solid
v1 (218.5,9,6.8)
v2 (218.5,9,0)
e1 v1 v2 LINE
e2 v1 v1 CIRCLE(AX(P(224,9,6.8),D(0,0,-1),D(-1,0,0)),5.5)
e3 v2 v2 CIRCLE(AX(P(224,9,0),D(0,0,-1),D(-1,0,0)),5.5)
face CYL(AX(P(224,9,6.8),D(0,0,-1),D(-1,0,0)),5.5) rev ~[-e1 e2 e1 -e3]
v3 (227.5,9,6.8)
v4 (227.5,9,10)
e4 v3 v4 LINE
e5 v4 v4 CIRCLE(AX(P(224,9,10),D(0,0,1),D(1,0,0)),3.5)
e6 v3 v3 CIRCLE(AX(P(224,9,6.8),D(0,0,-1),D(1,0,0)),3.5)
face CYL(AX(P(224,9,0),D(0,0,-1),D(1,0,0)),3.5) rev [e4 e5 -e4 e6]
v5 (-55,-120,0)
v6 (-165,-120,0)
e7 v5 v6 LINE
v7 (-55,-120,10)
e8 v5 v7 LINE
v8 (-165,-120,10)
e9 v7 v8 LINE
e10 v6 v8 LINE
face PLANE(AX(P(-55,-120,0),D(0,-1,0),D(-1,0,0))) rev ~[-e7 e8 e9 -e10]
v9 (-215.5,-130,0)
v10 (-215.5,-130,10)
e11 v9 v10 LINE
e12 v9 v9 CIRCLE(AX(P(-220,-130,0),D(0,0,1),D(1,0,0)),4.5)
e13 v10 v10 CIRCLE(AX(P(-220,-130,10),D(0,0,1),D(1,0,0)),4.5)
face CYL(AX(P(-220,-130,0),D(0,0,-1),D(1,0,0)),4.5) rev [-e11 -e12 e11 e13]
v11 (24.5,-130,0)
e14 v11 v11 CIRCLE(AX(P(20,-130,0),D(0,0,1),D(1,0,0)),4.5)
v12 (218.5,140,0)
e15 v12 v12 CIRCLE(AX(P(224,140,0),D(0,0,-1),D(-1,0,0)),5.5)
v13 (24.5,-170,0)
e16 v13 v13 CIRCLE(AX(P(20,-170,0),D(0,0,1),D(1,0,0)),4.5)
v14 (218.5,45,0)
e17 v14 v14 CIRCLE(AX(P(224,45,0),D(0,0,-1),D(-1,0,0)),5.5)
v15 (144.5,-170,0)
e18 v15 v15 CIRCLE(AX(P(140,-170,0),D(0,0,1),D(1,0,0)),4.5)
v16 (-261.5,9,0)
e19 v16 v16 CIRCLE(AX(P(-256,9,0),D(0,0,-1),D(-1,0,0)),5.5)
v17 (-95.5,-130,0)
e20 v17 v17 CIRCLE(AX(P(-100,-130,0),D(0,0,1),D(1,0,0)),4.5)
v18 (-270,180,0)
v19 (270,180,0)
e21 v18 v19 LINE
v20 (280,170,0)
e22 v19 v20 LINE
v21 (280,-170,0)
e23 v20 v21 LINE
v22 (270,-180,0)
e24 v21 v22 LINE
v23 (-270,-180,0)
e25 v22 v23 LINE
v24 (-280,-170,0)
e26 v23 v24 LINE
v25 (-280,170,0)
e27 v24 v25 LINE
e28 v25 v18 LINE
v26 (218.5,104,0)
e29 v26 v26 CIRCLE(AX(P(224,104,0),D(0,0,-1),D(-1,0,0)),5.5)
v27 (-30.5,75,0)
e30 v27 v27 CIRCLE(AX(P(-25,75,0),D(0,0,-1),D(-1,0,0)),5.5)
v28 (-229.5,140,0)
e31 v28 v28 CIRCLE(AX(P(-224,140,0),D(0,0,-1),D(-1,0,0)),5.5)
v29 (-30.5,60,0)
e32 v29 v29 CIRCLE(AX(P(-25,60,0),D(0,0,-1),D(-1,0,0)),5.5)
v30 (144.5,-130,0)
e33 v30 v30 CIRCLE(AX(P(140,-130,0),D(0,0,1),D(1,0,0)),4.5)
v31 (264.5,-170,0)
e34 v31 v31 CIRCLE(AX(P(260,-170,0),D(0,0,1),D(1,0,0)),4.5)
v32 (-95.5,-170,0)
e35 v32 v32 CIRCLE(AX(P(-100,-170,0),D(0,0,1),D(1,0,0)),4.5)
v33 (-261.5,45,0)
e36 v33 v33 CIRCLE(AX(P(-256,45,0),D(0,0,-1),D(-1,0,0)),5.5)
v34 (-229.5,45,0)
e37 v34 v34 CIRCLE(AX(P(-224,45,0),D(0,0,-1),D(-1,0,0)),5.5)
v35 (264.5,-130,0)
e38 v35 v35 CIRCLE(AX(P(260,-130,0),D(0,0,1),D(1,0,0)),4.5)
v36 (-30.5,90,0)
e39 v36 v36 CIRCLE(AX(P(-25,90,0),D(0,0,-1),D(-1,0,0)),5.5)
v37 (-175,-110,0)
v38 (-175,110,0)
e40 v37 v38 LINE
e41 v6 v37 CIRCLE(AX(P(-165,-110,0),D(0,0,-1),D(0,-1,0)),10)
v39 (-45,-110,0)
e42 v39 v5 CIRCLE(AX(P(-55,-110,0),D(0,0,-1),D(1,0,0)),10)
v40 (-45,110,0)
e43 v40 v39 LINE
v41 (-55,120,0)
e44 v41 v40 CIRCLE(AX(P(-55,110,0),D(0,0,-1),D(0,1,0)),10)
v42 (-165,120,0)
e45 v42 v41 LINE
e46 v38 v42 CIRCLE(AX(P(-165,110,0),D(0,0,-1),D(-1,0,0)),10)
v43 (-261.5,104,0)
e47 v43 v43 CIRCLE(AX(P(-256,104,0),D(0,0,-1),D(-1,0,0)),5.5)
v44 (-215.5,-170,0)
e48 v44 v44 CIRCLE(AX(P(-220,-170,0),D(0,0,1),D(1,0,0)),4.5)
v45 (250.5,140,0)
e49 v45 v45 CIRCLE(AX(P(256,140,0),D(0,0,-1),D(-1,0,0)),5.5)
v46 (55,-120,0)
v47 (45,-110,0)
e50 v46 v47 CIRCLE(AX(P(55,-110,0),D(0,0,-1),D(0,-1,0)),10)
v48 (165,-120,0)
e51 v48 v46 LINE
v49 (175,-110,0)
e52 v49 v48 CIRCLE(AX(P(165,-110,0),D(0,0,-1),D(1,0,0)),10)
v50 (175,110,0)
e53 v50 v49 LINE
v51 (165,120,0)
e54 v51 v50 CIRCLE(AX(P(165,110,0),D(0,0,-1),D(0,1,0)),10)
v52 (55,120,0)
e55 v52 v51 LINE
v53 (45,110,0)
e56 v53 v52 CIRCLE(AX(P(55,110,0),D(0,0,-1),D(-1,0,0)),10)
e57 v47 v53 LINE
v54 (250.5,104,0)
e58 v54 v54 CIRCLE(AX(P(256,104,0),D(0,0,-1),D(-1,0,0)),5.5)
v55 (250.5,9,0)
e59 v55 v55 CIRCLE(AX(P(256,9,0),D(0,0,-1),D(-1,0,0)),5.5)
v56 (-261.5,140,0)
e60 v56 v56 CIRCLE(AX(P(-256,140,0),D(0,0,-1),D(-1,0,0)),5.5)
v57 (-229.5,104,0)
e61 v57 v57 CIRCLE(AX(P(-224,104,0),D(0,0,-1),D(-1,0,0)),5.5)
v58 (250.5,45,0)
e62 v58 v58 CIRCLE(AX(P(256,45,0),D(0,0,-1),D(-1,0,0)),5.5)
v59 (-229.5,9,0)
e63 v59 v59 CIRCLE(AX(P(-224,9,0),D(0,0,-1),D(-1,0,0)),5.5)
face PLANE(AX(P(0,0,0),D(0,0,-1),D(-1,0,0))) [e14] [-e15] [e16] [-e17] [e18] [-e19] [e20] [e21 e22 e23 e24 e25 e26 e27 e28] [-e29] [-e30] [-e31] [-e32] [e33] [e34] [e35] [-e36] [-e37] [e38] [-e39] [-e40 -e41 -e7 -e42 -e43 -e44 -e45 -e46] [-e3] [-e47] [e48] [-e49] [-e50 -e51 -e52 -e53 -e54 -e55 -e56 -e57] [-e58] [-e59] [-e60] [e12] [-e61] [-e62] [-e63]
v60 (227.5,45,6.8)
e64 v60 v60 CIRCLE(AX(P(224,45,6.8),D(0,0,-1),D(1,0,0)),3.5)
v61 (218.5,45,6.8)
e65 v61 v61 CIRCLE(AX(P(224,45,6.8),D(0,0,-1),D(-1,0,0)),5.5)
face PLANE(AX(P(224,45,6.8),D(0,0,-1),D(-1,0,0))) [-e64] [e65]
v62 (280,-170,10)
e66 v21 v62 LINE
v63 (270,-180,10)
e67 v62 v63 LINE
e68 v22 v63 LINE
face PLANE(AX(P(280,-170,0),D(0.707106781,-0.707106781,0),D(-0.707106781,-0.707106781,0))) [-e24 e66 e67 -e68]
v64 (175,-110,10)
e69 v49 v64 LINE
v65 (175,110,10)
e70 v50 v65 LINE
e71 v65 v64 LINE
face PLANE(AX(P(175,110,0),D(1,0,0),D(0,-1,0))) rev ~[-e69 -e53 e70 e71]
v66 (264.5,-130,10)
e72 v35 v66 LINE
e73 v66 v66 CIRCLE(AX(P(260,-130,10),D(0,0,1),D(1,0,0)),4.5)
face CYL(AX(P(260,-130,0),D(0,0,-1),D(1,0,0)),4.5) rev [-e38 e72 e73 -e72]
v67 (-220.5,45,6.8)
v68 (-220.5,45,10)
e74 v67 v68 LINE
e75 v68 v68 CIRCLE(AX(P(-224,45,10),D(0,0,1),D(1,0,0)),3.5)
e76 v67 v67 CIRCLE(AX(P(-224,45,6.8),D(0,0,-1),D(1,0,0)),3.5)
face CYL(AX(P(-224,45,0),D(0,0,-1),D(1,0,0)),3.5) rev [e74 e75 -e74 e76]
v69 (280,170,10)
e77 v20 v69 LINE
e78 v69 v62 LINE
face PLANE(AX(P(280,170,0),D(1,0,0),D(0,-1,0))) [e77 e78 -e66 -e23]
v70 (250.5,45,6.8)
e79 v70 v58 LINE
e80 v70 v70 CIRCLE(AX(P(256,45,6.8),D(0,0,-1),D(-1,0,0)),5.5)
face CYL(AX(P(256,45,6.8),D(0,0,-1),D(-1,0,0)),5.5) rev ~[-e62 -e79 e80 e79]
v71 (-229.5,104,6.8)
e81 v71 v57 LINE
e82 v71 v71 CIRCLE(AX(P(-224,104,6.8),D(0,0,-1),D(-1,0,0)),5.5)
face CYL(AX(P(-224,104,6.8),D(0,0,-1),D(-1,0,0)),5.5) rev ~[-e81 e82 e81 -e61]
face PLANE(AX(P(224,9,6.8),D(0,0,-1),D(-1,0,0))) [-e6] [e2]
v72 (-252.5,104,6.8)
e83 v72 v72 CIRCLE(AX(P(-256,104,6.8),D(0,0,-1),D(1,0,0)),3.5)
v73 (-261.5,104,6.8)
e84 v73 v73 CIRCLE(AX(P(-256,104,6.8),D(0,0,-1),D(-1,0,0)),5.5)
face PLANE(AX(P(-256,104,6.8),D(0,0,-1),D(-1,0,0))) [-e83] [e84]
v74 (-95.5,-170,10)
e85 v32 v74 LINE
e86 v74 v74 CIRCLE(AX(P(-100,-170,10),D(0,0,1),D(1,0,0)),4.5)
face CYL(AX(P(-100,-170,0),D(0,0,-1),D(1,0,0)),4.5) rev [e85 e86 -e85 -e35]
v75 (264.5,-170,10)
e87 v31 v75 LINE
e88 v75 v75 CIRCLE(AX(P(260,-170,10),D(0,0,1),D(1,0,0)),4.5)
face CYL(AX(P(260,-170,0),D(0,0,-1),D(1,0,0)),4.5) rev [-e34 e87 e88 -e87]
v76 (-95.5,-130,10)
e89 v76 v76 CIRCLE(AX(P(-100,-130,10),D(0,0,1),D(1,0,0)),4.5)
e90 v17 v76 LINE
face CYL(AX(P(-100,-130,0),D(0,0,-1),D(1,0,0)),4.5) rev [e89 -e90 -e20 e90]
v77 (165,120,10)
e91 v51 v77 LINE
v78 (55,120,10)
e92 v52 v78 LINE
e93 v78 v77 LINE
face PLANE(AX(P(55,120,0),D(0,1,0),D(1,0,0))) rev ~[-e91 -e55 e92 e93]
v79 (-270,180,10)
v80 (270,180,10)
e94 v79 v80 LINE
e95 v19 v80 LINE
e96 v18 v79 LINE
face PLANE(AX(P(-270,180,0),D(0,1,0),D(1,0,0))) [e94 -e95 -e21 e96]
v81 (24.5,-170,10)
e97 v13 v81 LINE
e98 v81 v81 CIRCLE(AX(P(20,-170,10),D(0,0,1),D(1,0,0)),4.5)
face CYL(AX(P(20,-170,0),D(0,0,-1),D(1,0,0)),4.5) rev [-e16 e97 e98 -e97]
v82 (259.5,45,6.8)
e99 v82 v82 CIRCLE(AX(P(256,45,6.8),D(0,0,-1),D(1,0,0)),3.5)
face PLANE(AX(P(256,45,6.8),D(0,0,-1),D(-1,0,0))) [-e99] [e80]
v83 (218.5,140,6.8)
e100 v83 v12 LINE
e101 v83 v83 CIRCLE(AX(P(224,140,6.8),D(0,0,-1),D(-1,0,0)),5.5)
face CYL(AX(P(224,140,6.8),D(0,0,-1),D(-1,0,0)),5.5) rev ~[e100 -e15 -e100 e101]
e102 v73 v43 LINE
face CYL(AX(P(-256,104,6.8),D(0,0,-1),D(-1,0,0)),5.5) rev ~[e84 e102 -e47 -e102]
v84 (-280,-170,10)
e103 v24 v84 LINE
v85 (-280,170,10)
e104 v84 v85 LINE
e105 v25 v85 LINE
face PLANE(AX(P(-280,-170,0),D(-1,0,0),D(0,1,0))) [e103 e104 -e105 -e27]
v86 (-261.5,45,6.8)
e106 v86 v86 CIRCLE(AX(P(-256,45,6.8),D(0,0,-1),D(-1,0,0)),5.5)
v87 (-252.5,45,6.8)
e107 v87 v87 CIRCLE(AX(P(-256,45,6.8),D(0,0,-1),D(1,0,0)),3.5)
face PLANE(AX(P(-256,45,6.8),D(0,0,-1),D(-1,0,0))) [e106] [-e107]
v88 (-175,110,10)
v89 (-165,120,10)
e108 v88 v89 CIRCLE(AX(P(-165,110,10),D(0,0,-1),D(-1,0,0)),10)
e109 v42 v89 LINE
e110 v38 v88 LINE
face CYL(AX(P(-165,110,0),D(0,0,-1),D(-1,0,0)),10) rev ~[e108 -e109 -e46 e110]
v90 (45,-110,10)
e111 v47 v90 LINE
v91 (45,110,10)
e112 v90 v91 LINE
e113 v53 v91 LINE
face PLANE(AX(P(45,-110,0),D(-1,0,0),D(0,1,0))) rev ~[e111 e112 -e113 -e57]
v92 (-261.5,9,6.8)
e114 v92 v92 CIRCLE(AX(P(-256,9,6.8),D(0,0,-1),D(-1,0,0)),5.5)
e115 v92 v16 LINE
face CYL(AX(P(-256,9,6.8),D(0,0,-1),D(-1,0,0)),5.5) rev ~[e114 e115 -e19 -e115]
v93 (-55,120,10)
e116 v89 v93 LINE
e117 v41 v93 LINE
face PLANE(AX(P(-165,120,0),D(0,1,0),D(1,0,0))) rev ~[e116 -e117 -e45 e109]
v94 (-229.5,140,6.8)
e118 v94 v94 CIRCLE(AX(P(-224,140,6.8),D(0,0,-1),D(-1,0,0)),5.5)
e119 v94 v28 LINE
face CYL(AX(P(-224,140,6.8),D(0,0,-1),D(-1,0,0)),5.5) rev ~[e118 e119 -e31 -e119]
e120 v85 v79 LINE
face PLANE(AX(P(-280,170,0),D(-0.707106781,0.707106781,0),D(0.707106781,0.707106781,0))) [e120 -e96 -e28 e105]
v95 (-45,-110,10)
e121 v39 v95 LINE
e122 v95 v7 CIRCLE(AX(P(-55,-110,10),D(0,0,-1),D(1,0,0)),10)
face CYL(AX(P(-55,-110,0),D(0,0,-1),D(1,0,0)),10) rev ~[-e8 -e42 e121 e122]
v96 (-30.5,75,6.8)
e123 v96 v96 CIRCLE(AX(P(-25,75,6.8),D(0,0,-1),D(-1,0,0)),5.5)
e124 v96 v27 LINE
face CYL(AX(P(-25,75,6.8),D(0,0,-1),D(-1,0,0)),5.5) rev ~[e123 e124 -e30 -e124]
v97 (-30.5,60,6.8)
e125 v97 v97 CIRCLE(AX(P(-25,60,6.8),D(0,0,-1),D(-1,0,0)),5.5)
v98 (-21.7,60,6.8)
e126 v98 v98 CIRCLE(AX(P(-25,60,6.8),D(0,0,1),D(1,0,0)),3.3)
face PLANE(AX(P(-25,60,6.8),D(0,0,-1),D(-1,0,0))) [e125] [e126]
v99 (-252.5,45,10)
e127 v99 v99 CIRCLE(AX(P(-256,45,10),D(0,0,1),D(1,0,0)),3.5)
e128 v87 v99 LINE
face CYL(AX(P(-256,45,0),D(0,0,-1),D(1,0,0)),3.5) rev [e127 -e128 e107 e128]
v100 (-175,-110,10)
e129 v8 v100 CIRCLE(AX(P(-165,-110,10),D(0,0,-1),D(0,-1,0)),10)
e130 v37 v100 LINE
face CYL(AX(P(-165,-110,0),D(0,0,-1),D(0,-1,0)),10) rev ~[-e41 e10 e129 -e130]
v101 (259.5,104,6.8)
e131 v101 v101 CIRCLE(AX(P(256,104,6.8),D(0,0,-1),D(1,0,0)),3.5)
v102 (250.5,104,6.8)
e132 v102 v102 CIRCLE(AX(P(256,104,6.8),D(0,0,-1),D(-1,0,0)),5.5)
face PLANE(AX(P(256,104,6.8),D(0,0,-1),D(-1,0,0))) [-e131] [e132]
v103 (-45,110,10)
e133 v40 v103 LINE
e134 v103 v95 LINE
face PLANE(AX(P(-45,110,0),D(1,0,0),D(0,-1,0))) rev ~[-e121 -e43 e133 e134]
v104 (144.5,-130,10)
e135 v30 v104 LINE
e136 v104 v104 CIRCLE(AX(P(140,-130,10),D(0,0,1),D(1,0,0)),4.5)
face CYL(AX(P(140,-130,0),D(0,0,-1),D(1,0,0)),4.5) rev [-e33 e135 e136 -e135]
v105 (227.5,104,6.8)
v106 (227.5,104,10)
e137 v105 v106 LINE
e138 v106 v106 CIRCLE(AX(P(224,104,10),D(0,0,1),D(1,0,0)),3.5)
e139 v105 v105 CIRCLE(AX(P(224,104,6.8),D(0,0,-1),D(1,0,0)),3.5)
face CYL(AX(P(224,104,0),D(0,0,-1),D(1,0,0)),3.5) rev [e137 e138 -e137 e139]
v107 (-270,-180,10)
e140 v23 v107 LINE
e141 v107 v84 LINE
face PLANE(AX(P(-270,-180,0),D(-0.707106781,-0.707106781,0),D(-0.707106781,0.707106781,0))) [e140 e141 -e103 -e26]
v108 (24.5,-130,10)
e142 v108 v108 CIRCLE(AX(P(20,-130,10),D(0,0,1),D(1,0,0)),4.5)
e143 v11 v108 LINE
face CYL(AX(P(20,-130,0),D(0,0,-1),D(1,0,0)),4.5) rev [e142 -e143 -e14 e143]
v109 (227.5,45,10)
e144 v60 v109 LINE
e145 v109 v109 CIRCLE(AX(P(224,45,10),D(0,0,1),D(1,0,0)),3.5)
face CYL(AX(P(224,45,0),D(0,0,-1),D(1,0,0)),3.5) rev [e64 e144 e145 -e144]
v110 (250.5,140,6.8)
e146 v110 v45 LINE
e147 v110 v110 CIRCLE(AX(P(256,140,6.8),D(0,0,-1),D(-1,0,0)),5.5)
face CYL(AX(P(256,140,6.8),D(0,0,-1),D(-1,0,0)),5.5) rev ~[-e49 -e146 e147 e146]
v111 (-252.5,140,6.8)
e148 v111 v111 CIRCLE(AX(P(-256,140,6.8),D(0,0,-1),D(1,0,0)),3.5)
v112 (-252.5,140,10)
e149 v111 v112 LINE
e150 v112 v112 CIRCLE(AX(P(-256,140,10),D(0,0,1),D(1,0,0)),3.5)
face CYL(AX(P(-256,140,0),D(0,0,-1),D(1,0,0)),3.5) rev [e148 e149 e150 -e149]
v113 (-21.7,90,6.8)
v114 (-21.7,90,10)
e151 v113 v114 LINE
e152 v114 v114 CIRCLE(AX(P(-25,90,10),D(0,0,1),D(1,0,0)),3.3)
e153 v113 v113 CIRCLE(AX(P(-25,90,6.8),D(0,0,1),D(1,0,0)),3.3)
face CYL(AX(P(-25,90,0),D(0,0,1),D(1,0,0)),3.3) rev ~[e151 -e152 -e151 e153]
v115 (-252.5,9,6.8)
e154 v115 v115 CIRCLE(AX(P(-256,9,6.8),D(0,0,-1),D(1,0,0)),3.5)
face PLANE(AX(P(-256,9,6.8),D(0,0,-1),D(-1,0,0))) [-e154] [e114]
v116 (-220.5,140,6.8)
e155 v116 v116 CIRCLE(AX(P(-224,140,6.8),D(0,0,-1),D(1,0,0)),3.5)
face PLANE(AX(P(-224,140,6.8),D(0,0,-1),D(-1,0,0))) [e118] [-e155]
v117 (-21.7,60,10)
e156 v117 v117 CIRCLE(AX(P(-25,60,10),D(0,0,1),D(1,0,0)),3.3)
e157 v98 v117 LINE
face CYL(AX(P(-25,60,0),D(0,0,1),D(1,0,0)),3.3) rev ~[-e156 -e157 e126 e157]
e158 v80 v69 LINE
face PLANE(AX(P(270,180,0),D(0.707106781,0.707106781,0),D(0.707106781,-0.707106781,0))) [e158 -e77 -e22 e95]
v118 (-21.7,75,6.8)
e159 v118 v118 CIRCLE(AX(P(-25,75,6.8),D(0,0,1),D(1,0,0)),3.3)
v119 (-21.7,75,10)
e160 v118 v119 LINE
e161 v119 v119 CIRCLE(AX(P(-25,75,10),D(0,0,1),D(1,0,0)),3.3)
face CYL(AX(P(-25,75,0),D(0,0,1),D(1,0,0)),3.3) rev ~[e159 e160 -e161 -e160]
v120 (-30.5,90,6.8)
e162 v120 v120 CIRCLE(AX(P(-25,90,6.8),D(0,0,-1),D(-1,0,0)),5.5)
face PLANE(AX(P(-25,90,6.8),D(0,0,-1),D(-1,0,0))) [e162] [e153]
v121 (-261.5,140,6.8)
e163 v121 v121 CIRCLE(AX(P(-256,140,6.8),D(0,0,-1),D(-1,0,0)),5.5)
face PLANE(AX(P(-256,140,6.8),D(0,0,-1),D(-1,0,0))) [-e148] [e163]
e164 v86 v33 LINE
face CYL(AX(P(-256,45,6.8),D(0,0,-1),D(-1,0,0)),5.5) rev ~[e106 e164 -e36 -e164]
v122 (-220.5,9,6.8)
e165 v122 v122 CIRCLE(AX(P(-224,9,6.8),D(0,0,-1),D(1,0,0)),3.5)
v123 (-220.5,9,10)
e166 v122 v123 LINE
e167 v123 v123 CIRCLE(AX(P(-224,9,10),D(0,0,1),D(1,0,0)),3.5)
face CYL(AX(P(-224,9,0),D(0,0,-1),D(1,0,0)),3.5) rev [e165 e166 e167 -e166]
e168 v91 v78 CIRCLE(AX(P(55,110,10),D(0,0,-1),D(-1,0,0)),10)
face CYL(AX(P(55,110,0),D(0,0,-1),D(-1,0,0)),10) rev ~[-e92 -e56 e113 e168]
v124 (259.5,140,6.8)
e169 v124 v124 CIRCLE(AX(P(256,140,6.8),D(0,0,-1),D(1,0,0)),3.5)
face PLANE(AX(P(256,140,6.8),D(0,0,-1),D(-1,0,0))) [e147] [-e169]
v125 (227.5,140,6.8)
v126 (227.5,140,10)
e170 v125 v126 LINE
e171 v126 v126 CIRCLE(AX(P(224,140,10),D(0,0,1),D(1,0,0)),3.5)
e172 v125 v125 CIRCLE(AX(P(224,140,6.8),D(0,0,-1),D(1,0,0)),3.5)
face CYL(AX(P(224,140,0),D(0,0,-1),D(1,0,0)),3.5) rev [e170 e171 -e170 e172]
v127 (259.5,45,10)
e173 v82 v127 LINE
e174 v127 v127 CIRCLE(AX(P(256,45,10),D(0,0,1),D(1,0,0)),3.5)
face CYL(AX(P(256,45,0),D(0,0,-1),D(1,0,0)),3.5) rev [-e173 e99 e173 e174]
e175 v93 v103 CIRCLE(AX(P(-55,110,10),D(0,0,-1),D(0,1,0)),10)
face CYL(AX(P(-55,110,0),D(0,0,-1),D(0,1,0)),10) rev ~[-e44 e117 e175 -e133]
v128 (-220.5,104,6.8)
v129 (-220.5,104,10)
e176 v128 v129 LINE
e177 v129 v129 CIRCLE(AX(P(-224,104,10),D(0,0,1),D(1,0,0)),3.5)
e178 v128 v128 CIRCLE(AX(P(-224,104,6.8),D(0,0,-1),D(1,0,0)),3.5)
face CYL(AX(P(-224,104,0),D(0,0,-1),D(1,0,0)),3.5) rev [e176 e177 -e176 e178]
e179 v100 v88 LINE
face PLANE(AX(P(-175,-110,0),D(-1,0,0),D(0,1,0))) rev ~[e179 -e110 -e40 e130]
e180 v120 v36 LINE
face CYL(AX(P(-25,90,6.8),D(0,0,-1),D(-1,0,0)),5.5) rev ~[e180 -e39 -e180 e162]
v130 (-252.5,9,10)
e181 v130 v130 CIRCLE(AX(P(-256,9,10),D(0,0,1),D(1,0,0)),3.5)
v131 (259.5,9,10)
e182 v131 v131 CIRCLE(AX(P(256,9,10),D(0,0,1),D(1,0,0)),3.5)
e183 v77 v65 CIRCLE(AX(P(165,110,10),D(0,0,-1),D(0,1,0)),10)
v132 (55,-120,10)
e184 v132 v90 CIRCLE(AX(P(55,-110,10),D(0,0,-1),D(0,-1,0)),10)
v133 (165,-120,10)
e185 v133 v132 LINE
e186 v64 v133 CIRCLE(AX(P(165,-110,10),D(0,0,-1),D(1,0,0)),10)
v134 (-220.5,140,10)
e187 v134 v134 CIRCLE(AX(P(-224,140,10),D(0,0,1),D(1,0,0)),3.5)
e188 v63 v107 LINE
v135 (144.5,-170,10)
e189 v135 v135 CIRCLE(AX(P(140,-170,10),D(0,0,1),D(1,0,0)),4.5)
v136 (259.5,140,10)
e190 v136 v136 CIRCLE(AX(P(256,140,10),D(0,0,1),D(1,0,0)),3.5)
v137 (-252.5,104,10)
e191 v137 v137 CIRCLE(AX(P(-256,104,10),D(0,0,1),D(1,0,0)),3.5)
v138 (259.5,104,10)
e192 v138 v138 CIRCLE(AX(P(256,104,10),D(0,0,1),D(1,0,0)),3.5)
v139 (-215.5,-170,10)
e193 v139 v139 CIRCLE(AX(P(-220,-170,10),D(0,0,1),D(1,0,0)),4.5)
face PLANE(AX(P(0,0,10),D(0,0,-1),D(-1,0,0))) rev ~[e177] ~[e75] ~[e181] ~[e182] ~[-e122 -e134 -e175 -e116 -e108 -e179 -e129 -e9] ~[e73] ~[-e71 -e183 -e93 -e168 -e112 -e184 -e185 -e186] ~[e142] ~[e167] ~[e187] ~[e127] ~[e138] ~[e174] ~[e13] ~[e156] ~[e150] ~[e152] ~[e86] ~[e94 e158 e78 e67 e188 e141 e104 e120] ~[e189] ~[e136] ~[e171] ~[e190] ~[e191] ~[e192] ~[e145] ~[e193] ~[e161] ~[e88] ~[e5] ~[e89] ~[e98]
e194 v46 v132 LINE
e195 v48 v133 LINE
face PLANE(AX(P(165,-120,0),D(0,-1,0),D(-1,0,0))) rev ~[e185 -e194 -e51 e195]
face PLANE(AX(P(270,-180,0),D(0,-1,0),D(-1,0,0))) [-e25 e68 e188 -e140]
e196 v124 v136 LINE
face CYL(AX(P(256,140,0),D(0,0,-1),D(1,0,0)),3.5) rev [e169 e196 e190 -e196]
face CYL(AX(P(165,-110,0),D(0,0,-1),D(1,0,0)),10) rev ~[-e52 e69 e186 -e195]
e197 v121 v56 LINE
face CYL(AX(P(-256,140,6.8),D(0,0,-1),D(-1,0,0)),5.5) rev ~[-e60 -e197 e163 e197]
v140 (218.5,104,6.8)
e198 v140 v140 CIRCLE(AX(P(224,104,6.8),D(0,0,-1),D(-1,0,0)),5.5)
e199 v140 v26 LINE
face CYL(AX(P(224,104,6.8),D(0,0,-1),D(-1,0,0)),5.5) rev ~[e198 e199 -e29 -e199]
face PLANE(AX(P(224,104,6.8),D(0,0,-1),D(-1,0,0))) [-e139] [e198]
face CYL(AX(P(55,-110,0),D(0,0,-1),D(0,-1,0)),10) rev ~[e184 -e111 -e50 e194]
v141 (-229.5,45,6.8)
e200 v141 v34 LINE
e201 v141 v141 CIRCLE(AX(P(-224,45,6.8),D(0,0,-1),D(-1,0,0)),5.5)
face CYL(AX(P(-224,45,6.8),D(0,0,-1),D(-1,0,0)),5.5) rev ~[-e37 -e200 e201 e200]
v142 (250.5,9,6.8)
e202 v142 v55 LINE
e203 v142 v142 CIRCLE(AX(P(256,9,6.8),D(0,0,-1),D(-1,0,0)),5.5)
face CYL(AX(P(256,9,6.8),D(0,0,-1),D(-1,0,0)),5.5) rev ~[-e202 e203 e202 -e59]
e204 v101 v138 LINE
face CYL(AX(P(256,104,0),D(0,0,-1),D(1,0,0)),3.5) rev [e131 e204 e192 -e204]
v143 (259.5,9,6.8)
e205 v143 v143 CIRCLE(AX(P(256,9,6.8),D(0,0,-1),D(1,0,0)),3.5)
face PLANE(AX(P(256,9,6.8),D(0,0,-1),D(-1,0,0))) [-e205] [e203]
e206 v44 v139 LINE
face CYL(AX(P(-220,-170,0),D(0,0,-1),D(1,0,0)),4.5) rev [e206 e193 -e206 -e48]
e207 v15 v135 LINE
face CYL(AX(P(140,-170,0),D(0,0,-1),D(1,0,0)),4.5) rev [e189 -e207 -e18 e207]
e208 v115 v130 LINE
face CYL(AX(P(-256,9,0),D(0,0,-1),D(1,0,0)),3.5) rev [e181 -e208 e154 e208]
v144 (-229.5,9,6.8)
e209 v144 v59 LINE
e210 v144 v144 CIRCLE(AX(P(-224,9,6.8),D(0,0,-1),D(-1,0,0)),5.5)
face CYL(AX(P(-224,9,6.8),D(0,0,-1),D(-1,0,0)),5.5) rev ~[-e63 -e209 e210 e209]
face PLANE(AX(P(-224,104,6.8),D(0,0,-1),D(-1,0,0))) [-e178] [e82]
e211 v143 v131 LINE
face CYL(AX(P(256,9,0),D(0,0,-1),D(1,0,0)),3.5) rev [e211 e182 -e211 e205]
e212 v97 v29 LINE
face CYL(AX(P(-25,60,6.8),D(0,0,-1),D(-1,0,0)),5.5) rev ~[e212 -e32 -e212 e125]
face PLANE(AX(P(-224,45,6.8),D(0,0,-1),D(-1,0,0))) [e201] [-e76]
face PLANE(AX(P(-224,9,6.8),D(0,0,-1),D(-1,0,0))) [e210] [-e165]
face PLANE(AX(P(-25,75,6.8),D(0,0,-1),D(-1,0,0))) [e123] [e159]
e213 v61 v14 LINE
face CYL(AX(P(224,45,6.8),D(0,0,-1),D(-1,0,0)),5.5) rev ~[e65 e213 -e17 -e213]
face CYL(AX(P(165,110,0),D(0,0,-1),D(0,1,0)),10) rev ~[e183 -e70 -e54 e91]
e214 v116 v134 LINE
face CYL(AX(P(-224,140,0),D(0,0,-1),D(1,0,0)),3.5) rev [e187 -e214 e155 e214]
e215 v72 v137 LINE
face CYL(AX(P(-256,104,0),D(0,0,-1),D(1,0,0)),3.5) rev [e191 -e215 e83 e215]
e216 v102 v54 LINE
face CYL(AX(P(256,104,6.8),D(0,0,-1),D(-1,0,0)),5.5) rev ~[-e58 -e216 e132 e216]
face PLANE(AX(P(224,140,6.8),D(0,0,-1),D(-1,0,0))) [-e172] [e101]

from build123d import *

# Parameters (mm, degrees)
SKETCH_1_R                = 3.5
SKETCH_1_R_2              = 4.5
SKETCH_1_R_3              = 1.5
EXTRUDE_1_DEPTH           = 10
HOLE_WIZARD_1_D           = 6.6
HOLE_WIZARD_1_DEPTH       = 18
HOLE_WIZARD_1_CBORE_D     = 11
HOLE_WIZARD_1_CBORE_DEPTH = 6.8
HOLE_WIZARD_1_TIP         = 1.982840043


with BuildPart() as part:
    # 草图1 → 凸台-拉伸1 (new body)
    with BuildSketch(Plane.XY):
        Polygon((-270, 180), (270, 180), (280, 170), (280, -170), (270, -180), (-270, -180), (-280, -170), (-280, 170), align=None)
        with Locations((-256, 140)):
            Circle(SKETCH_1_R, mode=Mode.SUBTRACT)
        with Locations((-224, 140)):
            Circle(SKETCH_1_R, mode=Mode.SUBTRACT)
        with Locations((-256, 104)):
            Circle(SKETCH_1_R, mode=Mode.SUBTRACT)
        with Locations((-224, 104)):
            Circle(SKETCH_1_R, mode=Mode.SUBTRACT)
        with Locations((256, 104)):
            Circle(SKETCH_1_R, mode=Mode.SUBTRACT)
        with Locations((224, 104)):
            Circle(SKETCH_1_R, mode=Mode.SUBTRACT)
        with Locations((224, 140)):
            Circle(SKETCH_1_R, mode=Mode.SUBTRACT)
        with Locations((256, 140)):
            Circle(SKETCH_1_R, mode=Mode.SUBTRACT)
        with Locations((-220, -130)):
            Circle(SKETCH_1_R_2, mode=Mode.SUBTRACT)
        with Locations((-100, -130)):
            Circle(SKETCH_1_R_2, mode=Mode.SUBTRACT)
        with Locations((20, -130)):
            Circle(SKETCH_1_R_2, mode=Mode.SUBTRACT)
        with Locations((140, -130)):
            Circle(SKETCH_1_R_2, mode=Mode.SUBTRACT)
        with Locations((260, -130)):
            Circle(SKETCH_1_R_2, mode=Mode.SUBTRACT)
        with Locations((-100, -170)):
            Circle(SKETCH_1_R_2, mode=Mode.SUBTRACT)
        with Locations((20, -170)):
            Circle(SKETCH_1_R_2, mode=Mode.SUBTRACT)
        with Locations((140, -170)):
            Circle(SKETCH_1_R_2, mode=Mode.SUBTRACT)
        with Locations((260, -170)):
            Circle(SKETCH_1_R_2, mode=Mode.SUBTRACT)
        with Locations((-220, -170)):
            Circle(SKETCH_1_R_2, mode=Mode.SUBTRACT)
        with Locations((-25, 90)):
            Circle(SKETCH_1_R_3, mode=Mode.SUBTRACT)
        with Locations((-256, 45)):
            Circle(SKETCH_1_R, mode=Mode.SUBTRACT)
        with Locations((-224, 45)):
            Circle(SKETCH_1_R, mode=Mode.SUBTRACT)
        with Locations((-25, 75)):
            Circle(SKETCH_1_R_3, mode=Mode.SUBTRACT)
        with Locations((-25, 60)):
            Circle(SKETCH_1_R_3, mode=Mode.SUBTRACT)
        with Locations((-256, 9)):
            Circle(SKETCH_1_R, mode=Mode.SUBTRACT)
        with Locations((-224, 9)):
            Circle(SKETCH_1_R, mode=Mode.SUBTRACT)
        with Locations((224, 45)):
            Circle(SKETCH_1_R, mode=Mode.SUBTRACT)
        with Locations((256, 45)):
            Circle(SKETCH_1_R, mode=Mode.SUBTRACT)
        with Locations((224, 9)):
            Circle(SKETCH_1_R, mode=Mode.SUBTRACT)
        with Locations((256, 9)):
            Circle(SKETCH_1_R, mode=Mode.SUBTRACT)
        with BuildLine():
            Line((-165, 120), (-55, 120))
            ThreePointArc((-55, 120), (-47.928932188, 117.071067812), (-45, 110))
            Line((-45, 110), (-45, -110))
            ThreePointArc((-45, -110), (-47.928932188, -117.071067812), (-55, -120))
            Line((-55, -120), (-165, -120))
            ThreePointArc((-165, -120), (-172.071067812, -117.071067812), (-175, -110))
            Line((-175, -110), (-175, 110))
            ThreePointArc((-175, 110), (-172.071067812, 117.071067812), (-165, 120))
        make_face(mode=Mode.SUBTRACT)
        with BuildLine():
            Line((165, -120), (55, -120))
            ThreePointArc((55, -120), (47.928932188, -117.071067812), (45, -110))
            Line((45, -110), (45, 110))
            ThreePointArc((45, 110), (47.928932188, 117.071067812), (55, 120))
            Line((55, 120), (165, 120))
            ThreePointArc((165, 120), (172.071067812, 117.071067812), (175, 110))
            Line((175, 110), (175, -110))
            ThreePointArc((175, -110), (172.071067812, -117.071067812), (165, -120))
        make_face(mode=Mode.SUBTRACT)
    extrude(amount=EXTRUDE_1_DEPTH)

    # 打孔尺寸(%根据)内六角圆柱头螺钉的类型1
    with Locations(Plane(origin=(-256, 9, 0), x_dir=(-1, 0, 0), z_dir=(0, 0, -1))):
        with Locations((0, 0), (-480, 131), (-512, 131), (-512, 95), (-480, 95), (-512, 36), (-480, 36), (-512, 0), (-480, 0), (-231, 81), (-231, 66), (-231, 51), (-32, 131), (-32, 95), (0, 95), (0, 131), (-32, 36), (0, 36), (-32, 0)):
            CounterBoreHole(HOLE_WIZARD_1_D / 2, HOLE_WIZARD_1_CBORE_D / 2, HOLE_WIZARD_1_CBORE_DEPTH, depth=HOLE_WIZARD_1_DEPTH)
            with Locations((0, 0, -(HOLE_WIZARD_1_DEPTH + HOLE_WIZARD_1_TIP / 2))):  # 118° drill point
                Cone(0, HOLE_WIZARD_1_D / 2, HOLE_WIZARD_1_TIP, mode=Mode.SUBTRACT)


solid = part.part
